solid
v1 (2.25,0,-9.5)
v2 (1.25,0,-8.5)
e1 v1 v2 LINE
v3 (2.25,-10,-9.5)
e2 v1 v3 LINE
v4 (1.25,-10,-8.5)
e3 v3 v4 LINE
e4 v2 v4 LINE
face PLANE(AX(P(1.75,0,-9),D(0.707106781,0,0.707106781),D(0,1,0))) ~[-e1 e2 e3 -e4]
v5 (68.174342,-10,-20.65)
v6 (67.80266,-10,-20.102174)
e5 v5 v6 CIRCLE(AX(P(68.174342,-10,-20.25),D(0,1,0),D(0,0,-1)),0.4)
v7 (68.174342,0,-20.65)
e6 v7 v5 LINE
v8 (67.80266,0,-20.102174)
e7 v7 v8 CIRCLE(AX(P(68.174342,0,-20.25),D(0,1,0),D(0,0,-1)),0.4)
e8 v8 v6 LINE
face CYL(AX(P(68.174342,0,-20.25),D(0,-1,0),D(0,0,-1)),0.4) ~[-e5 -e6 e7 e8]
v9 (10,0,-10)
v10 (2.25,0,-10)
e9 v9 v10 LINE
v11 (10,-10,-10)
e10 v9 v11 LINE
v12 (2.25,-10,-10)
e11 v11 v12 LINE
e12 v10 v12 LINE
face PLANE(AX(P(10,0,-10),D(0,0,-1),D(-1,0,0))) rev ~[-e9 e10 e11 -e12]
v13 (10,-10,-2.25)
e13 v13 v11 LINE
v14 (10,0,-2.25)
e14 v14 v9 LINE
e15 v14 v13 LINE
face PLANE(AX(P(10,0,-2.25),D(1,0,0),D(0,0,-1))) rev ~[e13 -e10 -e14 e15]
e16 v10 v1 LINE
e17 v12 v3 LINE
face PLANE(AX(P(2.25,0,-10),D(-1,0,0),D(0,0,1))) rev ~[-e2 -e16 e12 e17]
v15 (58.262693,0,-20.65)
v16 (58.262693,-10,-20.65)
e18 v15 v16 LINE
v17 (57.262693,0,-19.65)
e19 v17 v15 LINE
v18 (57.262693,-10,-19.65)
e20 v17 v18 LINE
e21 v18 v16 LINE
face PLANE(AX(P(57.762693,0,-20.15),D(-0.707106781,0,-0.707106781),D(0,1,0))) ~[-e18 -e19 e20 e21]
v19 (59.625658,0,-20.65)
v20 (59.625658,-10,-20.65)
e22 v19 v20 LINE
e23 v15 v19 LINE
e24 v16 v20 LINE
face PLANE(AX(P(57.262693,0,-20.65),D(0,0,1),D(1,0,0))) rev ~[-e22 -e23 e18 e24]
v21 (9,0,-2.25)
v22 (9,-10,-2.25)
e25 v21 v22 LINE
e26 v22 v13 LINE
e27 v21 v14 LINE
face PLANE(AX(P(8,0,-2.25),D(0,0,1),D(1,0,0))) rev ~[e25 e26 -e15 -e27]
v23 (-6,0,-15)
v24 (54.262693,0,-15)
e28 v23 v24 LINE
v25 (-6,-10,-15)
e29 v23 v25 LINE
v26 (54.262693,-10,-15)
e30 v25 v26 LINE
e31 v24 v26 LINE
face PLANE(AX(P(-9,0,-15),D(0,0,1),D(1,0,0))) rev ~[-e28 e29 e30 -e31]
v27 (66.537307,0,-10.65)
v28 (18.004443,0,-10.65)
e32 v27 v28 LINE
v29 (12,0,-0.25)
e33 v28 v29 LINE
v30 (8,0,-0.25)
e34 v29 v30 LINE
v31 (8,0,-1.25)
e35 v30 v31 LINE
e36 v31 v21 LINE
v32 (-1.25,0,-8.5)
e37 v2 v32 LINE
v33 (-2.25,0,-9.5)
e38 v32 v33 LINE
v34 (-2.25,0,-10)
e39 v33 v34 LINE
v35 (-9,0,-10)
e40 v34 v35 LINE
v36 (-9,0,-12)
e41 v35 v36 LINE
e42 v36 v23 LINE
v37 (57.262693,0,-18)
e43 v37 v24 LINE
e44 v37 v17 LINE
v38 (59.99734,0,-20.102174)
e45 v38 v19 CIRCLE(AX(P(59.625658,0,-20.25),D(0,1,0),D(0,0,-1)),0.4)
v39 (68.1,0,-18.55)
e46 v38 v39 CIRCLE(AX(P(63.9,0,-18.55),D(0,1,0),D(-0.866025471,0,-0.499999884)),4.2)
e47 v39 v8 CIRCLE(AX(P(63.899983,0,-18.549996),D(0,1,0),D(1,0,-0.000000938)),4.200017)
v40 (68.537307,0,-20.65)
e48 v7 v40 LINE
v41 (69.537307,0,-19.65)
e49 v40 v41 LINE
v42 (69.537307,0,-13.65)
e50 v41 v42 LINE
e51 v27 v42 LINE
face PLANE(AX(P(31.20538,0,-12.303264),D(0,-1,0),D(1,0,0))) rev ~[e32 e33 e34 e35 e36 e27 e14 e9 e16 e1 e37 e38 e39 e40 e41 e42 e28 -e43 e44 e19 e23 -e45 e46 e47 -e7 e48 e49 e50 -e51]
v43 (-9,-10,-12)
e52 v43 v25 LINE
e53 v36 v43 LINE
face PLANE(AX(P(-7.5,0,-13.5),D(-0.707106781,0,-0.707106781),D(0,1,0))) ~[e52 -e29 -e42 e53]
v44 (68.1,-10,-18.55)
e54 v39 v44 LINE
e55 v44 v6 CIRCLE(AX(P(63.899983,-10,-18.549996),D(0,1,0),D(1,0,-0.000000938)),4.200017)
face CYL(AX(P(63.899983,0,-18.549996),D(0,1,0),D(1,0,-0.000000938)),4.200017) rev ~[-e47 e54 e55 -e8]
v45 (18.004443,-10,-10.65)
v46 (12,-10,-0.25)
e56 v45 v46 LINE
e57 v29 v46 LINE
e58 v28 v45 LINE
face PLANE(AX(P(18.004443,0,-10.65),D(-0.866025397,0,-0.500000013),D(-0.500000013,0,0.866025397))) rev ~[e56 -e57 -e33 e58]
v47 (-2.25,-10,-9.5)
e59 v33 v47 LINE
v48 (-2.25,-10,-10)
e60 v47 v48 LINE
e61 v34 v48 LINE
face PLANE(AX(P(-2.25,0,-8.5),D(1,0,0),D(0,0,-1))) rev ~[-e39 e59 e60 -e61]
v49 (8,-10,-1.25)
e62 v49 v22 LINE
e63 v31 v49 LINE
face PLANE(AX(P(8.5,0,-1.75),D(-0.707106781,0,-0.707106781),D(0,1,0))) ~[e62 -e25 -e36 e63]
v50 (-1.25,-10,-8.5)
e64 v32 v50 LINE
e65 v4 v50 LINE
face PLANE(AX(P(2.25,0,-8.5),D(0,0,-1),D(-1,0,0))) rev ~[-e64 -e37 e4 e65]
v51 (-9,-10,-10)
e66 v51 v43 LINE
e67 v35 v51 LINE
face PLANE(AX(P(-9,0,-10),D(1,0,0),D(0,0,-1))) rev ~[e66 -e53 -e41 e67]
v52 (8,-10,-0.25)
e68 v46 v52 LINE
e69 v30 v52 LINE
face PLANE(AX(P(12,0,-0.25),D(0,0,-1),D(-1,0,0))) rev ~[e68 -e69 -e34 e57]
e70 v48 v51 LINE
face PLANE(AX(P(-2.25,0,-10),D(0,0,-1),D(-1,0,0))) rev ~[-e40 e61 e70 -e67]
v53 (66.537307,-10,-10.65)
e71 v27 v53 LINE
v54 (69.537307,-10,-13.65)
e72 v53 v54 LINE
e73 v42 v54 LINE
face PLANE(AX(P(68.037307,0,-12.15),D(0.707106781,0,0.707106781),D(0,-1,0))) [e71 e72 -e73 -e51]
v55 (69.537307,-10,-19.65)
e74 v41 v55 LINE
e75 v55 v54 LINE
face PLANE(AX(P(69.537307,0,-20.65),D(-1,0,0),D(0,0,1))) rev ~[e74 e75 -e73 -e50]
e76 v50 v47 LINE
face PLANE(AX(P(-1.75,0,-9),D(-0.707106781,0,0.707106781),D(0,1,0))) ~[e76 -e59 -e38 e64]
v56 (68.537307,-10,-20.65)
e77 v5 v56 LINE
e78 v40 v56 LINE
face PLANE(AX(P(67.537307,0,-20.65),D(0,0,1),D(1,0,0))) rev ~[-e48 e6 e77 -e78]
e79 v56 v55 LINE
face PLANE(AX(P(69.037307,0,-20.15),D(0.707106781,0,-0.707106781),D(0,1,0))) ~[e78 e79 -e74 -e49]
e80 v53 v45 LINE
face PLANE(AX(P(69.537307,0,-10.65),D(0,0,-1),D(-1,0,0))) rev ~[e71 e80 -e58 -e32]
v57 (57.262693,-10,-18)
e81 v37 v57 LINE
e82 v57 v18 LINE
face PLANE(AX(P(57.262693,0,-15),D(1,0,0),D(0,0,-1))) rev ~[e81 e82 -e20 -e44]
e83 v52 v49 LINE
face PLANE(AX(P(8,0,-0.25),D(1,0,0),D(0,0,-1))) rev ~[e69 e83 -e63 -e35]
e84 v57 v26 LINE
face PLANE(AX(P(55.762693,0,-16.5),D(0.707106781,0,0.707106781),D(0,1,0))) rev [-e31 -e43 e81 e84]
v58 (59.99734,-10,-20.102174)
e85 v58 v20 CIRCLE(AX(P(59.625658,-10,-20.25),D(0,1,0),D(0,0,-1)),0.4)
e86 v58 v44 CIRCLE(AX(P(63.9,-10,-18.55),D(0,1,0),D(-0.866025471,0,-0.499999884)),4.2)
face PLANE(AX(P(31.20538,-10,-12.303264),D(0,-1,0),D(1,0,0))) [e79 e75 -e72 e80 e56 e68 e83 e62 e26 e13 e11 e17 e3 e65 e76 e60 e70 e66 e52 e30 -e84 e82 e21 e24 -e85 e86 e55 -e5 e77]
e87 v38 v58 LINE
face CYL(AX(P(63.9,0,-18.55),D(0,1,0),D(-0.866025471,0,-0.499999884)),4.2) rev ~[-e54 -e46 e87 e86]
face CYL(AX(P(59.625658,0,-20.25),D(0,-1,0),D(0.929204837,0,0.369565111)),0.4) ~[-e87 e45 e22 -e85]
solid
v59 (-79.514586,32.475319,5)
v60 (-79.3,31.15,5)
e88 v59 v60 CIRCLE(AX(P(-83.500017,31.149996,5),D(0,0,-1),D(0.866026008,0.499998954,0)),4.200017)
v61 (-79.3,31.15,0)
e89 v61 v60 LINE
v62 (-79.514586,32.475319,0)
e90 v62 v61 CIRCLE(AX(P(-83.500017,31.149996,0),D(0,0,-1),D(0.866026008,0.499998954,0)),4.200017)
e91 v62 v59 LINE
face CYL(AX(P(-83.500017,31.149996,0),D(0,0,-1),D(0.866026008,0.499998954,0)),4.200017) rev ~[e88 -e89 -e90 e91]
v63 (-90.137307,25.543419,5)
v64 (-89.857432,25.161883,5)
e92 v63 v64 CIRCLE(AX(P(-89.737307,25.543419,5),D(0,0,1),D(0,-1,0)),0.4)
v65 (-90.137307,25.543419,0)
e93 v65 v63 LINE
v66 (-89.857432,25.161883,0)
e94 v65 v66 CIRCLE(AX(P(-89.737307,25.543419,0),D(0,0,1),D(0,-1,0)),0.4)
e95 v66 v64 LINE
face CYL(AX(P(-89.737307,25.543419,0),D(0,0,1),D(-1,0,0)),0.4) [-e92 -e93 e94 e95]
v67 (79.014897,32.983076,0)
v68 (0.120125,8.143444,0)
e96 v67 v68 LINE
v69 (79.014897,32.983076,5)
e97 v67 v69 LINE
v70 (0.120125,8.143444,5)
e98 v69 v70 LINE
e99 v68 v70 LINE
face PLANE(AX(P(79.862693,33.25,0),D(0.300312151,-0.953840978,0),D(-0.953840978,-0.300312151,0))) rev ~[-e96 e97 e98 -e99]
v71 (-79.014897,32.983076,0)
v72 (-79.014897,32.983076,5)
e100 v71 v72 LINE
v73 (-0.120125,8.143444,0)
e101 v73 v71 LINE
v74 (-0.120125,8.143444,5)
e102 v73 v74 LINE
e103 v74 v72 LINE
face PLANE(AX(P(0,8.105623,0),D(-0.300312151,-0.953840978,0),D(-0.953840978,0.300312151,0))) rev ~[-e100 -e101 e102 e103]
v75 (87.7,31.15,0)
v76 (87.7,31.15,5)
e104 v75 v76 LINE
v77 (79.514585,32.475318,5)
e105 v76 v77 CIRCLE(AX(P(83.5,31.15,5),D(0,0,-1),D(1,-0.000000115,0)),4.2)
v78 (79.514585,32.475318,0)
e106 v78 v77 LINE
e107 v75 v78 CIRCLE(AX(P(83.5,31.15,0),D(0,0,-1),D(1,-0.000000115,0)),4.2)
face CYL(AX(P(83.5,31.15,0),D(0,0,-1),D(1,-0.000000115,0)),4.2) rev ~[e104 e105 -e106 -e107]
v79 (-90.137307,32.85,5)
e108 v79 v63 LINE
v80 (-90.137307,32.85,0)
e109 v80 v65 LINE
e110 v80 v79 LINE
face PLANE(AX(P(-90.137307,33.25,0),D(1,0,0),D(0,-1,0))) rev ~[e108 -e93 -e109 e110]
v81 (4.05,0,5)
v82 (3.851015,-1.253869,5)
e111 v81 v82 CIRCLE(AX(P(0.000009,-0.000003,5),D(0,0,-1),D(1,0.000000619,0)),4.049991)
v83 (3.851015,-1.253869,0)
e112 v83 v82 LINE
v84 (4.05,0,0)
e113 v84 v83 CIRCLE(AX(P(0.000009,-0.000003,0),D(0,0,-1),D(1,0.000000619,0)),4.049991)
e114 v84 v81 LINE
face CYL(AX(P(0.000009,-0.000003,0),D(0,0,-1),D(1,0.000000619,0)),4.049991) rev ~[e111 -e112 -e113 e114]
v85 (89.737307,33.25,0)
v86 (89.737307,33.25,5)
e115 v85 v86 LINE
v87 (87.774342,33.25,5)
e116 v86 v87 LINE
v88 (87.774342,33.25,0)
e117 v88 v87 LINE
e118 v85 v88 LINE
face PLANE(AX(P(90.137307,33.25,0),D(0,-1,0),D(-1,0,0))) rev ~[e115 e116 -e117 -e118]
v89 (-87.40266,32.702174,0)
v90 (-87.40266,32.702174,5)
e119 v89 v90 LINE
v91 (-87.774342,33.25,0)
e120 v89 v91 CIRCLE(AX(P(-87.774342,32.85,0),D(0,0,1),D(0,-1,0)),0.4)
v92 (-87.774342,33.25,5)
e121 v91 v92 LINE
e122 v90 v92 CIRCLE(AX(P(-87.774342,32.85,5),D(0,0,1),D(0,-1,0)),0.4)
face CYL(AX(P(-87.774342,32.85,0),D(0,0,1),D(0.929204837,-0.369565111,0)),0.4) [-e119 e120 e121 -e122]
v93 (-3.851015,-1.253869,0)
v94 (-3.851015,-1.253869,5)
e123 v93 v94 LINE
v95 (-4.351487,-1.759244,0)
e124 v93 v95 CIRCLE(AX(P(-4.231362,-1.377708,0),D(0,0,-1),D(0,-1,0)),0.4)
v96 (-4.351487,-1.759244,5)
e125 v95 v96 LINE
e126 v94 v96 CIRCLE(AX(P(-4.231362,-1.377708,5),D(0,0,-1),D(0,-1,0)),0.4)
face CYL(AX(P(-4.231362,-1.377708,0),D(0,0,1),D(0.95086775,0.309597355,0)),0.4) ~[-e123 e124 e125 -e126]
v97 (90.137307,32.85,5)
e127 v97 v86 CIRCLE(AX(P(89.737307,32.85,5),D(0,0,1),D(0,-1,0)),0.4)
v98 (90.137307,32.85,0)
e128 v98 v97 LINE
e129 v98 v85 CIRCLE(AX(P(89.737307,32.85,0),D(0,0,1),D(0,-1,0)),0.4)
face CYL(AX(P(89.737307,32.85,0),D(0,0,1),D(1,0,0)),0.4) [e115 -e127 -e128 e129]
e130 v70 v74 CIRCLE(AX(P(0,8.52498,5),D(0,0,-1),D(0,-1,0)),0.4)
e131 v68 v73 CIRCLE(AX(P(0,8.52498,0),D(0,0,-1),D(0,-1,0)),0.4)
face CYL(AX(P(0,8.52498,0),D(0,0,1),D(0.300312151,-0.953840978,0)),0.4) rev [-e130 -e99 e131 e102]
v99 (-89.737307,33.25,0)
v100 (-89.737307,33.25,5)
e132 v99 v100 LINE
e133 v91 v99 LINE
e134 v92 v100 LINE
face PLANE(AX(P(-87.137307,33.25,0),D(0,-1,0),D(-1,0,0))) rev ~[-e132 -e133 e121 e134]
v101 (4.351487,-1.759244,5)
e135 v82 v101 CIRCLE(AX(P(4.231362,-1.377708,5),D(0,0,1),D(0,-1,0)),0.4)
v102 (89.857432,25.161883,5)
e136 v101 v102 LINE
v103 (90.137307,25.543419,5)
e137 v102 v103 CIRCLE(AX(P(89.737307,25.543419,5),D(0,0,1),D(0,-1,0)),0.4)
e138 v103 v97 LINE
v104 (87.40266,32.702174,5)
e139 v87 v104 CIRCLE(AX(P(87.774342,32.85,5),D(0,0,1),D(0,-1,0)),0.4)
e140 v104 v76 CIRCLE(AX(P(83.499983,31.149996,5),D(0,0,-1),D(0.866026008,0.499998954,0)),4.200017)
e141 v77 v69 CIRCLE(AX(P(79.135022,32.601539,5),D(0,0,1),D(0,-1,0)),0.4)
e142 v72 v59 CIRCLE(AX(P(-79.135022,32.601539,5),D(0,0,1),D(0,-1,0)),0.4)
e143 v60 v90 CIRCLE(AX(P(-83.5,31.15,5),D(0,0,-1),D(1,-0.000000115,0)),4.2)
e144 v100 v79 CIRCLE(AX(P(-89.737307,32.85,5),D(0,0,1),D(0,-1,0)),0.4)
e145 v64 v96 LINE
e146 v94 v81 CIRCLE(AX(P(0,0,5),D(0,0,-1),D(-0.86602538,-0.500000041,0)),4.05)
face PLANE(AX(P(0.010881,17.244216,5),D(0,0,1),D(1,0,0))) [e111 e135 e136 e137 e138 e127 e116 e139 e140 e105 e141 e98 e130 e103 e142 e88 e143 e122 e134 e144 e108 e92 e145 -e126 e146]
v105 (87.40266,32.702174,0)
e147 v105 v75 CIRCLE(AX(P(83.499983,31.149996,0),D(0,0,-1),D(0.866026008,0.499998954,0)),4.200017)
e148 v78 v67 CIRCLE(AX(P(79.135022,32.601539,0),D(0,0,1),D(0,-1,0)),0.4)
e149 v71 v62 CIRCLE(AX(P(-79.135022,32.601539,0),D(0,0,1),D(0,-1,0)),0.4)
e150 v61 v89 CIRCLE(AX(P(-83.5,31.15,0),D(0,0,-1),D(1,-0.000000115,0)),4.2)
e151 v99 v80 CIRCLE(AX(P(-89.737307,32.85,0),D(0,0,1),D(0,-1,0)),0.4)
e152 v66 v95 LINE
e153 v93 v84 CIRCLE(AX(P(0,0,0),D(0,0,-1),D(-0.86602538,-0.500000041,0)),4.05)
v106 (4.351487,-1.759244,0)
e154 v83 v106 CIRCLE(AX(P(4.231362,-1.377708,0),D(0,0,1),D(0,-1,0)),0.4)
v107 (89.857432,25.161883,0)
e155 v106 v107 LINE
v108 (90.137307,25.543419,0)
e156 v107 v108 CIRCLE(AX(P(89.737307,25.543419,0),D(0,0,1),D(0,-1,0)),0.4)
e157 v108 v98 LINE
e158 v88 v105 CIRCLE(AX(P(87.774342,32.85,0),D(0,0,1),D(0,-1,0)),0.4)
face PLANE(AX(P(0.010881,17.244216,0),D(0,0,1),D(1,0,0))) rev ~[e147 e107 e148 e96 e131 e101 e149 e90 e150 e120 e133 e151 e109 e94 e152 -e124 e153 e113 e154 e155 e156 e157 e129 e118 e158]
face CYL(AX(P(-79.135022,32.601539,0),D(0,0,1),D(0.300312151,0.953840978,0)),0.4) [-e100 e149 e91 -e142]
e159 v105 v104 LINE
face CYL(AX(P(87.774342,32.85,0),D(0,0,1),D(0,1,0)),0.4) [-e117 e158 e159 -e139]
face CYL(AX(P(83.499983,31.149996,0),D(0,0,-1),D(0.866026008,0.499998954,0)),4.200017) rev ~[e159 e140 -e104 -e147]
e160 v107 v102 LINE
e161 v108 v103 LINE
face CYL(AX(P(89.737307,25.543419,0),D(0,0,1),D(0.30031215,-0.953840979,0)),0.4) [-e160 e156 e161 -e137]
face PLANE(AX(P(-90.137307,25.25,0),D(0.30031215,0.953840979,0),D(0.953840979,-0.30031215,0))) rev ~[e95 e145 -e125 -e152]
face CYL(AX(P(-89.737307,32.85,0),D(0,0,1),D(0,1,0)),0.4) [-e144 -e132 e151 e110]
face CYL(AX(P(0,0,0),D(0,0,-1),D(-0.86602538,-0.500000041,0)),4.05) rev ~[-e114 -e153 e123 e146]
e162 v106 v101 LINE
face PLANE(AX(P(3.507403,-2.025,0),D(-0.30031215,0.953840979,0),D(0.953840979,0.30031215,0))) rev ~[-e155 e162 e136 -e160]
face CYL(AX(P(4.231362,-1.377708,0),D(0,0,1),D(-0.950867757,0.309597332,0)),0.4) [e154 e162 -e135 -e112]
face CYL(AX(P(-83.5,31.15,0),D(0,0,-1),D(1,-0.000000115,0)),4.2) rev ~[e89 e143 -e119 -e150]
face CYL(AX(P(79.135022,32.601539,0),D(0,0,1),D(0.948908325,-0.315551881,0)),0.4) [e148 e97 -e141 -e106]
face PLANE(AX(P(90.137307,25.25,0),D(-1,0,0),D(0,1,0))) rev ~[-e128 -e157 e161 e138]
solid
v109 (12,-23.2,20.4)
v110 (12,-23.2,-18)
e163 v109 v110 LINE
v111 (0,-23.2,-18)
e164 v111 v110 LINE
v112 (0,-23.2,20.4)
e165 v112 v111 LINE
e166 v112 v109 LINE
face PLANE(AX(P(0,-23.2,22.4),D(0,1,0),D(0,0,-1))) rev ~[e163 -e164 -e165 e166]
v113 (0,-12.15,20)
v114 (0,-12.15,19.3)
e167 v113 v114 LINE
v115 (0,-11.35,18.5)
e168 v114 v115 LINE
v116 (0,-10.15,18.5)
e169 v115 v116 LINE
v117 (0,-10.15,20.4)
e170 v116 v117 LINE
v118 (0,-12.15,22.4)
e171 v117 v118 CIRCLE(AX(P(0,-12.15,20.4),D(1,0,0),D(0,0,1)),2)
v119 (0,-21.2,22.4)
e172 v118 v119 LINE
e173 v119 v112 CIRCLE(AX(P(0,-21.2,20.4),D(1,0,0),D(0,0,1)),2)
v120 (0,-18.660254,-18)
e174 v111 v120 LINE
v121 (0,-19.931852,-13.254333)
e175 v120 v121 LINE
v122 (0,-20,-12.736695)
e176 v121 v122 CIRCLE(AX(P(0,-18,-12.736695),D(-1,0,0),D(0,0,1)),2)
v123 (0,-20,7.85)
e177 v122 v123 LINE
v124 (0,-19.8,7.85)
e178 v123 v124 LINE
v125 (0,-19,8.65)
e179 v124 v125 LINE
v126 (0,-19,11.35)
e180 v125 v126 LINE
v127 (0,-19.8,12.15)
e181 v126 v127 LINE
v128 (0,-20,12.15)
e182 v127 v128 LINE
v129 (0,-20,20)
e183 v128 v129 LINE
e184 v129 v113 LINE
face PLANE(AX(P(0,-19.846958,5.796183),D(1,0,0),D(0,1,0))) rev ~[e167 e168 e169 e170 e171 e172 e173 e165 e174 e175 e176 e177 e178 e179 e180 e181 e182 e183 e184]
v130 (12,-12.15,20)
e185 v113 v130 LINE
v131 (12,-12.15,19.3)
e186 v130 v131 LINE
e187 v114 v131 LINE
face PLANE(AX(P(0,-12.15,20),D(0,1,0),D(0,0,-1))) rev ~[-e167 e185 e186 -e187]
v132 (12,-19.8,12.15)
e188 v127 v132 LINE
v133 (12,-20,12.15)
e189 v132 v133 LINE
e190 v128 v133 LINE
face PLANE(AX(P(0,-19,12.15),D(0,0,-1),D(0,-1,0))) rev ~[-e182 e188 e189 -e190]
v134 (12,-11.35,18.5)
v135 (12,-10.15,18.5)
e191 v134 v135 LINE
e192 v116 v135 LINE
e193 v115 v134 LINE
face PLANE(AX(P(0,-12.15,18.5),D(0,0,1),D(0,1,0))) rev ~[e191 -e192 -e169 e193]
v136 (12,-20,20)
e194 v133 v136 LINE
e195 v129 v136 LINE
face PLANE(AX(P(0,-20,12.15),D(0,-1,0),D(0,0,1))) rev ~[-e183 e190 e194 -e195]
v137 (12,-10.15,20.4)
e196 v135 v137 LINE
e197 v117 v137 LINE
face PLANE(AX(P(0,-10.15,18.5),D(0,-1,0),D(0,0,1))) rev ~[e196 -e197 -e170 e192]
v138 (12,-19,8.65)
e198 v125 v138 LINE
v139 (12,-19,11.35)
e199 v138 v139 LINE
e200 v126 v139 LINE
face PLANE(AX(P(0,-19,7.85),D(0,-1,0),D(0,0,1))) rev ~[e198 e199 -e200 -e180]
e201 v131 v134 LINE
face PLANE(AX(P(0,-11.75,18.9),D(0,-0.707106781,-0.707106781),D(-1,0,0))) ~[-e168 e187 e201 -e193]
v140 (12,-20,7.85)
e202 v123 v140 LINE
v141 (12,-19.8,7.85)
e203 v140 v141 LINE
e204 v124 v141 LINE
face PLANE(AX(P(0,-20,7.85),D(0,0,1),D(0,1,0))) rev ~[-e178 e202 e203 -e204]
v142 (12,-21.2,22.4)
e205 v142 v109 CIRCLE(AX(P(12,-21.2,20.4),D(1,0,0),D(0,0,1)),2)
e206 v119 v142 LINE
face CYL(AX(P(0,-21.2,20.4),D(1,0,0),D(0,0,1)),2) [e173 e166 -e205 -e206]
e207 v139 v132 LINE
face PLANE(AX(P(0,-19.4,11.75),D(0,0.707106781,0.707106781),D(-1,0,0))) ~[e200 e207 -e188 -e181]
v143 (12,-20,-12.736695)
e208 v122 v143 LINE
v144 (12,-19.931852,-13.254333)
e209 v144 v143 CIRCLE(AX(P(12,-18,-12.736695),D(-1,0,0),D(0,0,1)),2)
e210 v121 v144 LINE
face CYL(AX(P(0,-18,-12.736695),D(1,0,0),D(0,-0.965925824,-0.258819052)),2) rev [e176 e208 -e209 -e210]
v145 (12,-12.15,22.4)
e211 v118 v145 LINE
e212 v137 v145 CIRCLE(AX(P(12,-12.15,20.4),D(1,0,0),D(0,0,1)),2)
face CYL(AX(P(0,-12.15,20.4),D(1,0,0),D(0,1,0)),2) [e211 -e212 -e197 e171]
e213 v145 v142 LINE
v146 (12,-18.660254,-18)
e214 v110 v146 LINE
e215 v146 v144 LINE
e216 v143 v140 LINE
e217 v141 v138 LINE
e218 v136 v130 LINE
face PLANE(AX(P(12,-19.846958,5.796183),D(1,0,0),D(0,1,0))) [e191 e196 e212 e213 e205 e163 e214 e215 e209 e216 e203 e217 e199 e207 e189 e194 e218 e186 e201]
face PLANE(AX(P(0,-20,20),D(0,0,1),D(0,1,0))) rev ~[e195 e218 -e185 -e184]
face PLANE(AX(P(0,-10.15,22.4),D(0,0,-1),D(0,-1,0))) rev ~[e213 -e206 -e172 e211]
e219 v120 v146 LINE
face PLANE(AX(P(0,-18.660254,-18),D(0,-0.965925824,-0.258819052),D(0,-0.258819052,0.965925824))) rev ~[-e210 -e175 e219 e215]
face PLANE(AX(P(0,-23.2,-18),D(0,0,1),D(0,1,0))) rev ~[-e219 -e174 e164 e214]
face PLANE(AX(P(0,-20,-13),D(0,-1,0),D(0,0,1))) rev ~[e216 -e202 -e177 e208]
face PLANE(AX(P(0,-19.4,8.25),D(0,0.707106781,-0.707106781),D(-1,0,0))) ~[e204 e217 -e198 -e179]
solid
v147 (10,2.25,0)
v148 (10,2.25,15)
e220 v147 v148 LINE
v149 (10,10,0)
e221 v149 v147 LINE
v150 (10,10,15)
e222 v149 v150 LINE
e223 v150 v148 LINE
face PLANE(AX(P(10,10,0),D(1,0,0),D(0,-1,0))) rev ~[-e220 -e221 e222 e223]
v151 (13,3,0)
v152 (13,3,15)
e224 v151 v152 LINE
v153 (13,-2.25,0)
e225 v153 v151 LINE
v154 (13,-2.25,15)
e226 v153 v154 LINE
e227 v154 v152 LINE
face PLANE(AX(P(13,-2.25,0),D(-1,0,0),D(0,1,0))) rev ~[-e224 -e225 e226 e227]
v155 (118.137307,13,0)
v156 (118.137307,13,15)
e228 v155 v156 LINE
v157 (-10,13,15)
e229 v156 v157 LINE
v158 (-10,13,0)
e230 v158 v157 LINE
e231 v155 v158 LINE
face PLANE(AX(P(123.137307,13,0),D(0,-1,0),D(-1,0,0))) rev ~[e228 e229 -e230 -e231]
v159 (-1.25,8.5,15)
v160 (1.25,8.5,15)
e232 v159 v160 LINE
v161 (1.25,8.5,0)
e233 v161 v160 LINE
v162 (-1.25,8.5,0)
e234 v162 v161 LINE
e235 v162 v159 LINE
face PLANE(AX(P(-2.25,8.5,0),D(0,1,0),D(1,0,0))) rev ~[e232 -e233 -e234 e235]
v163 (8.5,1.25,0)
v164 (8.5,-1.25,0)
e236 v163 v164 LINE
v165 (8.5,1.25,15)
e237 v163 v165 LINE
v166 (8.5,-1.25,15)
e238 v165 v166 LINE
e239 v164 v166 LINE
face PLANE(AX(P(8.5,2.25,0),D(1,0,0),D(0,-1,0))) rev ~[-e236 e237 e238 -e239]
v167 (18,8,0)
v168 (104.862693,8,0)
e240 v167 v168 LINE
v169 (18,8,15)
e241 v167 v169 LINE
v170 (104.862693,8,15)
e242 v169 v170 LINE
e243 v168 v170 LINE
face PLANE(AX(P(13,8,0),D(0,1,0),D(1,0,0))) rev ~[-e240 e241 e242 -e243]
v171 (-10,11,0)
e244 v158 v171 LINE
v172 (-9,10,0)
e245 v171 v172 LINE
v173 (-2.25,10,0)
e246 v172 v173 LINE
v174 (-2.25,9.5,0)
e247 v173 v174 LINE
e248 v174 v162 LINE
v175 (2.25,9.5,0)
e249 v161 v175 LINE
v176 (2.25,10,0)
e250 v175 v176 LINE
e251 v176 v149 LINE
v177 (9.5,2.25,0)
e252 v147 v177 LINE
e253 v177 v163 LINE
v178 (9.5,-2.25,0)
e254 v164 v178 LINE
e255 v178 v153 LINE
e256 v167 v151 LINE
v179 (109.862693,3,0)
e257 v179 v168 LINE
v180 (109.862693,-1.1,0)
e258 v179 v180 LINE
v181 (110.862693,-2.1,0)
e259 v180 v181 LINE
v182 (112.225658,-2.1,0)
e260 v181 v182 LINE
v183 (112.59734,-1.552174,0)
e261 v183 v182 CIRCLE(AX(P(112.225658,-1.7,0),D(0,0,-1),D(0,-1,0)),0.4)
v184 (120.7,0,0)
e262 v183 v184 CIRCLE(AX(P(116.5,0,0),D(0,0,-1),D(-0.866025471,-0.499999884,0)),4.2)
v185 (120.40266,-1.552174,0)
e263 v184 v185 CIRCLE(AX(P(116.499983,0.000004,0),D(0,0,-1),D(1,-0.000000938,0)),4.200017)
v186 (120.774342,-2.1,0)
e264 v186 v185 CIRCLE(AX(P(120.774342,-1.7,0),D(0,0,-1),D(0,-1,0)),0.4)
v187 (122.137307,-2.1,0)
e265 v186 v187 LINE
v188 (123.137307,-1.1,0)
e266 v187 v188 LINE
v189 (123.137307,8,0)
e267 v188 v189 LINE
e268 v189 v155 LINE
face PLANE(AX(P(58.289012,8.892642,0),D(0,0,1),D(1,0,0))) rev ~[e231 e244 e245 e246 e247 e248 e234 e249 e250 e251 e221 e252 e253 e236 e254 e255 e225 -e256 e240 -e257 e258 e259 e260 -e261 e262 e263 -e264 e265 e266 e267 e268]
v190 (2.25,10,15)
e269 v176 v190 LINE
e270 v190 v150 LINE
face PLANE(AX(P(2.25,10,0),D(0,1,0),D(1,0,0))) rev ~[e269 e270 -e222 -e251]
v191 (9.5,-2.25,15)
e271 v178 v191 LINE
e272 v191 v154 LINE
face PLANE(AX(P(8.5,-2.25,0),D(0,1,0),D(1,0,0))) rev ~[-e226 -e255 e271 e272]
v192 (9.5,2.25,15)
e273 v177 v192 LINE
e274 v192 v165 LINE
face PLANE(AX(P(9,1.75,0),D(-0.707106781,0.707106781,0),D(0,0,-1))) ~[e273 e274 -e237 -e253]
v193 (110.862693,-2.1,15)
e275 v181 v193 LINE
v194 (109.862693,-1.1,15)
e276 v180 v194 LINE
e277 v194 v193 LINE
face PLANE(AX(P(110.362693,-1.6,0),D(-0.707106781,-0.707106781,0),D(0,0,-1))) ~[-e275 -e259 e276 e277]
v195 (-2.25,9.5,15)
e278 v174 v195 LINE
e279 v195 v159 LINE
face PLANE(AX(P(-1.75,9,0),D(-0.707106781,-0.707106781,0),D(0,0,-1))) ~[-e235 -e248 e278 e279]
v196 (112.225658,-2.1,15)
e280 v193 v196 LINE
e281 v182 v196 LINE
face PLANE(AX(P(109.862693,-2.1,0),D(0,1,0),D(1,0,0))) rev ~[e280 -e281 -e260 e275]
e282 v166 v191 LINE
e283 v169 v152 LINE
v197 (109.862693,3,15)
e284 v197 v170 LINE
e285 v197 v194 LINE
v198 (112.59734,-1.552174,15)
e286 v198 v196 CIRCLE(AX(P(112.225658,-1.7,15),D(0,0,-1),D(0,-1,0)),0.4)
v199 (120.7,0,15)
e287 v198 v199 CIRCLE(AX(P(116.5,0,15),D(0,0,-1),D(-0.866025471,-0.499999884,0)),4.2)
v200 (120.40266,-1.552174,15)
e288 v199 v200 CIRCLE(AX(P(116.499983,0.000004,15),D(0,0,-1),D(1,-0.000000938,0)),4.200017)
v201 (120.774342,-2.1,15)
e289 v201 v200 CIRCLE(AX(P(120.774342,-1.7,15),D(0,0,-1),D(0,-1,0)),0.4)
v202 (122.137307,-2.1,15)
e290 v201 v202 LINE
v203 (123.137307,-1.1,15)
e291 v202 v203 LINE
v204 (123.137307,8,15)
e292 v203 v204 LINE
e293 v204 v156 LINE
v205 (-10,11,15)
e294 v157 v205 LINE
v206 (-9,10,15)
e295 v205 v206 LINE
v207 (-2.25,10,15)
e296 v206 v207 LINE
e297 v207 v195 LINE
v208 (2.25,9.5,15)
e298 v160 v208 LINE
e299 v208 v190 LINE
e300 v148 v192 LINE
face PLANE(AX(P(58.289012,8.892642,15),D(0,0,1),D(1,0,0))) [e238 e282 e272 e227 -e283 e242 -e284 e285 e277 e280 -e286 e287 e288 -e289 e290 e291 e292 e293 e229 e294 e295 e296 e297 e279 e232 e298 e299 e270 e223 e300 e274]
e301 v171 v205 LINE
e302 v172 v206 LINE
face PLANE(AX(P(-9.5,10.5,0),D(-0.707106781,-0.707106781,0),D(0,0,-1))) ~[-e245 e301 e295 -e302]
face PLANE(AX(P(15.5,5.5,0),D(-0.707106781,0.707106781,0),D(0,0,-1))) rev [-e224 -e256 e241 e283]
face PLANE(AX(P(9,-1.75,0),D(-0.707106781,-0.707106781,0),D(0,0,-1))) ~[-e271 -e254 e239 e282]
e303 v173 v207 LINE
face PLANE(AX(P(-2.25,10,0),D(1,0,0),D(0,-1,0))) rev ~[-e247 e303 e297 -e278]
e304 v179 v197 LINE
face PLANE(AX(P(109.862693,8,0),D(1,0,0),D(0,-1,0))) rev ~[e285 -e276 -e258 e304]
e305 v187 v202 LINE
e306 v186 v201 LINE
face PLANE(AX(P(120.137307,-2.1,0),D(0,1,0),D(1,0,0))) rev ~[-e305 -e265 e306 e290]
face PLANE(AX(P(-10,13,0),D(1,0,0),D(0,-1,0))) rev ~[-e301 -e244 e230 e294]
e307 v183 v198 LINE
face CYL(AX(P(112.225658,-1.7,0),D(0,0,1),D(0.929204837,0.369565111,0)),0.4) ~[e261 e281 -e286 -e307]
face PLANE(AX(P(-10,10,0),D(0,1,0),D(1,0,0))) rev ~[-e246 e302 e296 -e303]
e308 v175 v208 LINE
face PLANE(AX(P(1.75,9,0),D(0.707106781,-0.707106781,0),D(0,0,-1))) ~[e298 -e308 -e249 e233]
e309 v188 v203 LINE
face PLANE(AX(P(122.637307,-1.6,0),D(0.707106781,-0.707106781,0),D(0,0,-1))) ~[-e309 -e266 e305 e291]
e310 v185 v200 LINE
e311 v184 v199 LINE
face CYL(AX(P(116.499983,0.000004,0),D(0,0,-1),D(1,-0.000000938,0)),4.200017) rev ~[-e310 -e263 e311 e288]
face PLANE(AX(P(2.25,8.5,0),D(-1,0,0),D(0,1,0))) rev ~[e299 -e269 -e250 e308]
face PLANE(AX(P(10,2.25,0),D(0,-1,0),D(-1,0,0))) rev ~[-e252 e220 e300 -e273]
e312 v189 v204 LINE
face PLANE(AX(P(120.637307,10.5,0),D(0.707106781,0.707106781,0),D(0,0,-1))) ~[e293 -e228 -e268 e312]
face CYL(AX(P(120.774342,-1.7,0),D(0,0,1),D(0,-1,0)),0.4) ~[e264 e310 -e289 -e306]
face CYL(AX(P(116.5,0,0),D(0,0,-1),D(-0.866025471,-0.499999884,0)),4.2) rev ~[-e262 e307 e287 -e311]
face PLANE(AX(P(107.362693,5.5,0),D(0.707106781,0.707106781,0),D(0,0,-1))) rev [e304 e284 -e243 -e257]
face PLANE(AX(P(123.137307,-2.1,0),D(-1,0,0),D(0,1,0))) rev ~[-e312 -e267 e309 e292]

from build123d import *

# Parameters (mm, degrees)
F2_DEPTH  = 10
F3_SIZE   = 1
F4_SIZE   = 3
F6_DEPTH  = 15
F7_SIZE   = 1
F8_SIZE   = 5
F9_R      = 0.4
F9_2_R    = 0.4
F15_DEPTH = 5
F16_R     = 0.4
F12_DEPTH = 12
F13_SIZE  = 0.8
F14_R     = 2


with BuildPart() as f2:
    # F1 (on Front) → F2 (new body)
    with BuildSketch(Plane.XZ):
        with BuildLine():
            Line((8, -0.25), (8, -2.25))
            Line((8, -2.25), (10, -2.25))
            Line((10, -2.25), (10, -10))
            Line((10, -10), (2.25, -10))
            Line((2.25, -10), (2.25, -8.5))
            Line((2.25, -8.5), (-2.25, -8.5))
            Line((-2.25, -8.5), (-2.25, -10))
            Line((-2.25, -10), (-9, -10))
            Line((-9, -10), (-9, -15))
            Line((-9, -15), (57.262693, -15))
            Line((57.262693, -15), (57.262693, -20.65))
            Line((57.262693, -20.65), (60.262693, -20.65))
            ThreePointArc((60.262693, -20.65), (62.81296, -14.493112), (68.1, -18.55))
            ThreePointArc((68.1, -18.55), (67.956888, -19.63704), (67.537307, -20.65))
            Line((67.537307, -20.65), (69.537307, -20.65))
            Line((69.537307, -20.65), (69.537307, -10.65))
            Line((69.537307, -10.65), (18.004443, -10.65))
            Line((18.004443, -10.65), (12, -0.25))
            Line((12, -0.25), (8, -0.25))
        make_face()
    extrude(amount=F2_DEPTH)

    # F3
    f3_edges = [f2.edges().sort_by_distance(p)[0] for p in [
        (-2.25, -5, -8.5),
        (2.25, -5, -8.5),
        (8, -5, -2.25),
        (57.262693, -5, -20.65),
        (69.537307, -5, -20.65),
    ]]
    chamfer(f3_edges, length=F3_SIZE)

    # F4
    f4_edges = [f2.edges().sort_by_distance(p)[0] for p in [
        (-9, -5, -15),
        (57.262693, -5, -15),
        (69.537307, -5, -10.65),
    ]]
    chamfer(f4_edges, length=F4_SIZE)

    # F9
    f9_edges = [f2.edges().sort_by_distance(p)[0] for p in [
        (60.262693, -5, -20.65),
        (67.537307, -5, -20.65),
    ]]
    fillet(f9_edges, radius=F9_R)


with BuildPart() as f6:
    # F5 (on Top) → F6 (new body)
    with BuildSketch(Plane.XY):
        with BuildLine():
            ThreePointArc((112.862693, -2.1), (115.41296, 4.056888), (120.7, 0))
            ThreePointArc((120.7, 0), (120.556888, -1.08704), (120.137307, -2.1))
            Line((120.137307, -2.1), (123.137307, -2.1))
            Line((123.137307, -2.1), (123.137307, 13))
            Line((123.137307, 13), (-10, 13))
            Line((-10, 13), (-10, 10))
            Line((-10, 10), (-2.25, 10))
            Line((-2.25, 10), (-2.25, 8.5))
            Line((-2.25, 8.5), (2.25, 8.5))
            Line((2.25, 8.5), (2.25, 10))
            Line((2.25, 10), (10, 10))
            Line((10, 10), (10, 2.25))
            Line((10, 2.25), (8.5, 2.25))
            Line((8.5, 2.25), (8.5, -2.25))
            Line((8.5, -2.25), (10, -2.25))
            Line((10, -2.25), (13, -2.25))
            Line((13, -2.25), (13, 8))
            Line((13, 8), (109.862693, 8))
            Line((109.862693, 8), (109.862693, -2.1))
            Line((109.862693, -2.1), (112.862693, -2.1))
        make_face()
    extrude(amount=F6_DEPTH)

    # F7
    f7_edges = [f6.edges().sort_by_distance(p)[0] for p in [
        (8.5, 2.25, 7.5),
        (8.5, -2.25, 7.5),
        (-2.25, 8.5, 7.5),
        (2.25, 8.5, 7.5),
        (-10, 10, 7.5),
        (109.862693, -2.1, 7.5),
        (123.137307, -2.1, 7.5),
    ]]
    chamfer(f7_edges, length=F7_SIZE)

    # F8
    f8_edges = [f6.edges().sort_by_distance(p)[0] for p in [
        (123.137307, 13, 7.5),
        (109.862693, 8, 7.5),
        (13, 8, 7.5),
    ]]
    chamfer(f8_edges, length=F8_SIZE)

    # F9#2
    f9_2_edges = [f6.edges().sort_by_distance(p)[0] for p in [
        (112.862693, -2.1, 7.5),
        (120.137307, -2.1, 7.5),
    ]]
    fillet(f9_2_edges, radius=F9_2_R)


with BuildPart() as f15:
    # F10 (on Top) → F15 (new body)
    with BuildSketch(Plane.XY):
        with BuildLine():
            ThreePointArc((-3.507403, -2.025), (-1.048217, 3.912), (4.05, 0))
            ThreePointArc((4.05, 0), (3.912, -1.048217), (3.507403, -2.025))
            Line((3.507403, -2.025), (90.137307, 25.25))
            Line((90.137307, 25.25), (90.137307, 33.25))
            Line((90.137307, 33.25), (87.137307, 33.25))
            ThreePointArc((87.137307, 33.25), (87.556888, 32.23704), (87.7, 31.15))
            ThreePointArc((87.7, 31.15), (82.41296, 27.093112), (79.862693, 33.25))
            Line((79.862693, 33.25), (0, 8.105623))
            Line((0, 8.105623), (-79.862693, 33.25))
            ThreePointArc((-79.862693, 33.25), (-79.443112, 32.23704), (-79.3, 31.15))
            ThreePointArc((-79.3, 31.15), (-84.58704, 27.093112), (-87.137307, 33.25))
            Line((-87.137307, 33.25), (-90.137307, 33.25))
            Line((-90.137307, 33.25), (-90.137307, 25.25))
            Line((-90.137307, 25.25), (-3.507403, -2.025))
        make_face()
    extrude(amount=F15_DEPTH)

    # F16
    f16_edges = [f15.edges().sort_by_distance(p)[0] for p in [
        (-3.507403, -2.025, 2.5),
        (3.507403, -2.025, 2.5),
        (0, 8.105623, 2.5),
        (79.862693, 33.25, 2.5),
        (87.137307, 33.25, 2.5),
        (90.137307, 33.25, 2.5),
        (90.137307, 25.25, 2.5),
        (-90.137307, 33.25, 2.5),
        (-90.137307, 25.25, 2.5),
        (-79.862693, 33.25, 2.5),
        (-87.137307, 33.25, 2.5),
    ]]
    fillet(f16_edges, radius=F16_R)


with BuildPart() as f12:
    # F11 (on Right) → F12 (new body)
    with BuildSketch(Plane.YZ):
        Polygon((-12.15, 20), (-12.15, 18.5), (-10.15, 18.5), (-10.15, 22.4), (-23.2, 22.4), (-23.2, -18), (-18.660254, -18), (-20, -13), (-20, 7.85), (-19, 7.85), (-19, 12.15), (-20, 12.15), (-20, 20), align=None)
    extrude(amount=F12_DEPTH)

    # F13
    f13_edges = [f12.edges().sort_by_distance(p)[0] for p in [
        (6, -19, 12.15),
        (6, -12.15, 18.5),
        (6, -19, 7.85),
    ]]
    chamfer(f13_edges, length=F13_SIZE)

    # F14
    f14_edges = [f12.edges().sort_by_distance(p)[0] for p in [
        (6, -23.2, 22.4),
        (6, -20, -13),
        (6, -10.15, 22.4),
    ]]
    fillet(f14_edges, radius=F14_R)


solid = Compound([f2.part, f6.part, f15.part, f12.part])
